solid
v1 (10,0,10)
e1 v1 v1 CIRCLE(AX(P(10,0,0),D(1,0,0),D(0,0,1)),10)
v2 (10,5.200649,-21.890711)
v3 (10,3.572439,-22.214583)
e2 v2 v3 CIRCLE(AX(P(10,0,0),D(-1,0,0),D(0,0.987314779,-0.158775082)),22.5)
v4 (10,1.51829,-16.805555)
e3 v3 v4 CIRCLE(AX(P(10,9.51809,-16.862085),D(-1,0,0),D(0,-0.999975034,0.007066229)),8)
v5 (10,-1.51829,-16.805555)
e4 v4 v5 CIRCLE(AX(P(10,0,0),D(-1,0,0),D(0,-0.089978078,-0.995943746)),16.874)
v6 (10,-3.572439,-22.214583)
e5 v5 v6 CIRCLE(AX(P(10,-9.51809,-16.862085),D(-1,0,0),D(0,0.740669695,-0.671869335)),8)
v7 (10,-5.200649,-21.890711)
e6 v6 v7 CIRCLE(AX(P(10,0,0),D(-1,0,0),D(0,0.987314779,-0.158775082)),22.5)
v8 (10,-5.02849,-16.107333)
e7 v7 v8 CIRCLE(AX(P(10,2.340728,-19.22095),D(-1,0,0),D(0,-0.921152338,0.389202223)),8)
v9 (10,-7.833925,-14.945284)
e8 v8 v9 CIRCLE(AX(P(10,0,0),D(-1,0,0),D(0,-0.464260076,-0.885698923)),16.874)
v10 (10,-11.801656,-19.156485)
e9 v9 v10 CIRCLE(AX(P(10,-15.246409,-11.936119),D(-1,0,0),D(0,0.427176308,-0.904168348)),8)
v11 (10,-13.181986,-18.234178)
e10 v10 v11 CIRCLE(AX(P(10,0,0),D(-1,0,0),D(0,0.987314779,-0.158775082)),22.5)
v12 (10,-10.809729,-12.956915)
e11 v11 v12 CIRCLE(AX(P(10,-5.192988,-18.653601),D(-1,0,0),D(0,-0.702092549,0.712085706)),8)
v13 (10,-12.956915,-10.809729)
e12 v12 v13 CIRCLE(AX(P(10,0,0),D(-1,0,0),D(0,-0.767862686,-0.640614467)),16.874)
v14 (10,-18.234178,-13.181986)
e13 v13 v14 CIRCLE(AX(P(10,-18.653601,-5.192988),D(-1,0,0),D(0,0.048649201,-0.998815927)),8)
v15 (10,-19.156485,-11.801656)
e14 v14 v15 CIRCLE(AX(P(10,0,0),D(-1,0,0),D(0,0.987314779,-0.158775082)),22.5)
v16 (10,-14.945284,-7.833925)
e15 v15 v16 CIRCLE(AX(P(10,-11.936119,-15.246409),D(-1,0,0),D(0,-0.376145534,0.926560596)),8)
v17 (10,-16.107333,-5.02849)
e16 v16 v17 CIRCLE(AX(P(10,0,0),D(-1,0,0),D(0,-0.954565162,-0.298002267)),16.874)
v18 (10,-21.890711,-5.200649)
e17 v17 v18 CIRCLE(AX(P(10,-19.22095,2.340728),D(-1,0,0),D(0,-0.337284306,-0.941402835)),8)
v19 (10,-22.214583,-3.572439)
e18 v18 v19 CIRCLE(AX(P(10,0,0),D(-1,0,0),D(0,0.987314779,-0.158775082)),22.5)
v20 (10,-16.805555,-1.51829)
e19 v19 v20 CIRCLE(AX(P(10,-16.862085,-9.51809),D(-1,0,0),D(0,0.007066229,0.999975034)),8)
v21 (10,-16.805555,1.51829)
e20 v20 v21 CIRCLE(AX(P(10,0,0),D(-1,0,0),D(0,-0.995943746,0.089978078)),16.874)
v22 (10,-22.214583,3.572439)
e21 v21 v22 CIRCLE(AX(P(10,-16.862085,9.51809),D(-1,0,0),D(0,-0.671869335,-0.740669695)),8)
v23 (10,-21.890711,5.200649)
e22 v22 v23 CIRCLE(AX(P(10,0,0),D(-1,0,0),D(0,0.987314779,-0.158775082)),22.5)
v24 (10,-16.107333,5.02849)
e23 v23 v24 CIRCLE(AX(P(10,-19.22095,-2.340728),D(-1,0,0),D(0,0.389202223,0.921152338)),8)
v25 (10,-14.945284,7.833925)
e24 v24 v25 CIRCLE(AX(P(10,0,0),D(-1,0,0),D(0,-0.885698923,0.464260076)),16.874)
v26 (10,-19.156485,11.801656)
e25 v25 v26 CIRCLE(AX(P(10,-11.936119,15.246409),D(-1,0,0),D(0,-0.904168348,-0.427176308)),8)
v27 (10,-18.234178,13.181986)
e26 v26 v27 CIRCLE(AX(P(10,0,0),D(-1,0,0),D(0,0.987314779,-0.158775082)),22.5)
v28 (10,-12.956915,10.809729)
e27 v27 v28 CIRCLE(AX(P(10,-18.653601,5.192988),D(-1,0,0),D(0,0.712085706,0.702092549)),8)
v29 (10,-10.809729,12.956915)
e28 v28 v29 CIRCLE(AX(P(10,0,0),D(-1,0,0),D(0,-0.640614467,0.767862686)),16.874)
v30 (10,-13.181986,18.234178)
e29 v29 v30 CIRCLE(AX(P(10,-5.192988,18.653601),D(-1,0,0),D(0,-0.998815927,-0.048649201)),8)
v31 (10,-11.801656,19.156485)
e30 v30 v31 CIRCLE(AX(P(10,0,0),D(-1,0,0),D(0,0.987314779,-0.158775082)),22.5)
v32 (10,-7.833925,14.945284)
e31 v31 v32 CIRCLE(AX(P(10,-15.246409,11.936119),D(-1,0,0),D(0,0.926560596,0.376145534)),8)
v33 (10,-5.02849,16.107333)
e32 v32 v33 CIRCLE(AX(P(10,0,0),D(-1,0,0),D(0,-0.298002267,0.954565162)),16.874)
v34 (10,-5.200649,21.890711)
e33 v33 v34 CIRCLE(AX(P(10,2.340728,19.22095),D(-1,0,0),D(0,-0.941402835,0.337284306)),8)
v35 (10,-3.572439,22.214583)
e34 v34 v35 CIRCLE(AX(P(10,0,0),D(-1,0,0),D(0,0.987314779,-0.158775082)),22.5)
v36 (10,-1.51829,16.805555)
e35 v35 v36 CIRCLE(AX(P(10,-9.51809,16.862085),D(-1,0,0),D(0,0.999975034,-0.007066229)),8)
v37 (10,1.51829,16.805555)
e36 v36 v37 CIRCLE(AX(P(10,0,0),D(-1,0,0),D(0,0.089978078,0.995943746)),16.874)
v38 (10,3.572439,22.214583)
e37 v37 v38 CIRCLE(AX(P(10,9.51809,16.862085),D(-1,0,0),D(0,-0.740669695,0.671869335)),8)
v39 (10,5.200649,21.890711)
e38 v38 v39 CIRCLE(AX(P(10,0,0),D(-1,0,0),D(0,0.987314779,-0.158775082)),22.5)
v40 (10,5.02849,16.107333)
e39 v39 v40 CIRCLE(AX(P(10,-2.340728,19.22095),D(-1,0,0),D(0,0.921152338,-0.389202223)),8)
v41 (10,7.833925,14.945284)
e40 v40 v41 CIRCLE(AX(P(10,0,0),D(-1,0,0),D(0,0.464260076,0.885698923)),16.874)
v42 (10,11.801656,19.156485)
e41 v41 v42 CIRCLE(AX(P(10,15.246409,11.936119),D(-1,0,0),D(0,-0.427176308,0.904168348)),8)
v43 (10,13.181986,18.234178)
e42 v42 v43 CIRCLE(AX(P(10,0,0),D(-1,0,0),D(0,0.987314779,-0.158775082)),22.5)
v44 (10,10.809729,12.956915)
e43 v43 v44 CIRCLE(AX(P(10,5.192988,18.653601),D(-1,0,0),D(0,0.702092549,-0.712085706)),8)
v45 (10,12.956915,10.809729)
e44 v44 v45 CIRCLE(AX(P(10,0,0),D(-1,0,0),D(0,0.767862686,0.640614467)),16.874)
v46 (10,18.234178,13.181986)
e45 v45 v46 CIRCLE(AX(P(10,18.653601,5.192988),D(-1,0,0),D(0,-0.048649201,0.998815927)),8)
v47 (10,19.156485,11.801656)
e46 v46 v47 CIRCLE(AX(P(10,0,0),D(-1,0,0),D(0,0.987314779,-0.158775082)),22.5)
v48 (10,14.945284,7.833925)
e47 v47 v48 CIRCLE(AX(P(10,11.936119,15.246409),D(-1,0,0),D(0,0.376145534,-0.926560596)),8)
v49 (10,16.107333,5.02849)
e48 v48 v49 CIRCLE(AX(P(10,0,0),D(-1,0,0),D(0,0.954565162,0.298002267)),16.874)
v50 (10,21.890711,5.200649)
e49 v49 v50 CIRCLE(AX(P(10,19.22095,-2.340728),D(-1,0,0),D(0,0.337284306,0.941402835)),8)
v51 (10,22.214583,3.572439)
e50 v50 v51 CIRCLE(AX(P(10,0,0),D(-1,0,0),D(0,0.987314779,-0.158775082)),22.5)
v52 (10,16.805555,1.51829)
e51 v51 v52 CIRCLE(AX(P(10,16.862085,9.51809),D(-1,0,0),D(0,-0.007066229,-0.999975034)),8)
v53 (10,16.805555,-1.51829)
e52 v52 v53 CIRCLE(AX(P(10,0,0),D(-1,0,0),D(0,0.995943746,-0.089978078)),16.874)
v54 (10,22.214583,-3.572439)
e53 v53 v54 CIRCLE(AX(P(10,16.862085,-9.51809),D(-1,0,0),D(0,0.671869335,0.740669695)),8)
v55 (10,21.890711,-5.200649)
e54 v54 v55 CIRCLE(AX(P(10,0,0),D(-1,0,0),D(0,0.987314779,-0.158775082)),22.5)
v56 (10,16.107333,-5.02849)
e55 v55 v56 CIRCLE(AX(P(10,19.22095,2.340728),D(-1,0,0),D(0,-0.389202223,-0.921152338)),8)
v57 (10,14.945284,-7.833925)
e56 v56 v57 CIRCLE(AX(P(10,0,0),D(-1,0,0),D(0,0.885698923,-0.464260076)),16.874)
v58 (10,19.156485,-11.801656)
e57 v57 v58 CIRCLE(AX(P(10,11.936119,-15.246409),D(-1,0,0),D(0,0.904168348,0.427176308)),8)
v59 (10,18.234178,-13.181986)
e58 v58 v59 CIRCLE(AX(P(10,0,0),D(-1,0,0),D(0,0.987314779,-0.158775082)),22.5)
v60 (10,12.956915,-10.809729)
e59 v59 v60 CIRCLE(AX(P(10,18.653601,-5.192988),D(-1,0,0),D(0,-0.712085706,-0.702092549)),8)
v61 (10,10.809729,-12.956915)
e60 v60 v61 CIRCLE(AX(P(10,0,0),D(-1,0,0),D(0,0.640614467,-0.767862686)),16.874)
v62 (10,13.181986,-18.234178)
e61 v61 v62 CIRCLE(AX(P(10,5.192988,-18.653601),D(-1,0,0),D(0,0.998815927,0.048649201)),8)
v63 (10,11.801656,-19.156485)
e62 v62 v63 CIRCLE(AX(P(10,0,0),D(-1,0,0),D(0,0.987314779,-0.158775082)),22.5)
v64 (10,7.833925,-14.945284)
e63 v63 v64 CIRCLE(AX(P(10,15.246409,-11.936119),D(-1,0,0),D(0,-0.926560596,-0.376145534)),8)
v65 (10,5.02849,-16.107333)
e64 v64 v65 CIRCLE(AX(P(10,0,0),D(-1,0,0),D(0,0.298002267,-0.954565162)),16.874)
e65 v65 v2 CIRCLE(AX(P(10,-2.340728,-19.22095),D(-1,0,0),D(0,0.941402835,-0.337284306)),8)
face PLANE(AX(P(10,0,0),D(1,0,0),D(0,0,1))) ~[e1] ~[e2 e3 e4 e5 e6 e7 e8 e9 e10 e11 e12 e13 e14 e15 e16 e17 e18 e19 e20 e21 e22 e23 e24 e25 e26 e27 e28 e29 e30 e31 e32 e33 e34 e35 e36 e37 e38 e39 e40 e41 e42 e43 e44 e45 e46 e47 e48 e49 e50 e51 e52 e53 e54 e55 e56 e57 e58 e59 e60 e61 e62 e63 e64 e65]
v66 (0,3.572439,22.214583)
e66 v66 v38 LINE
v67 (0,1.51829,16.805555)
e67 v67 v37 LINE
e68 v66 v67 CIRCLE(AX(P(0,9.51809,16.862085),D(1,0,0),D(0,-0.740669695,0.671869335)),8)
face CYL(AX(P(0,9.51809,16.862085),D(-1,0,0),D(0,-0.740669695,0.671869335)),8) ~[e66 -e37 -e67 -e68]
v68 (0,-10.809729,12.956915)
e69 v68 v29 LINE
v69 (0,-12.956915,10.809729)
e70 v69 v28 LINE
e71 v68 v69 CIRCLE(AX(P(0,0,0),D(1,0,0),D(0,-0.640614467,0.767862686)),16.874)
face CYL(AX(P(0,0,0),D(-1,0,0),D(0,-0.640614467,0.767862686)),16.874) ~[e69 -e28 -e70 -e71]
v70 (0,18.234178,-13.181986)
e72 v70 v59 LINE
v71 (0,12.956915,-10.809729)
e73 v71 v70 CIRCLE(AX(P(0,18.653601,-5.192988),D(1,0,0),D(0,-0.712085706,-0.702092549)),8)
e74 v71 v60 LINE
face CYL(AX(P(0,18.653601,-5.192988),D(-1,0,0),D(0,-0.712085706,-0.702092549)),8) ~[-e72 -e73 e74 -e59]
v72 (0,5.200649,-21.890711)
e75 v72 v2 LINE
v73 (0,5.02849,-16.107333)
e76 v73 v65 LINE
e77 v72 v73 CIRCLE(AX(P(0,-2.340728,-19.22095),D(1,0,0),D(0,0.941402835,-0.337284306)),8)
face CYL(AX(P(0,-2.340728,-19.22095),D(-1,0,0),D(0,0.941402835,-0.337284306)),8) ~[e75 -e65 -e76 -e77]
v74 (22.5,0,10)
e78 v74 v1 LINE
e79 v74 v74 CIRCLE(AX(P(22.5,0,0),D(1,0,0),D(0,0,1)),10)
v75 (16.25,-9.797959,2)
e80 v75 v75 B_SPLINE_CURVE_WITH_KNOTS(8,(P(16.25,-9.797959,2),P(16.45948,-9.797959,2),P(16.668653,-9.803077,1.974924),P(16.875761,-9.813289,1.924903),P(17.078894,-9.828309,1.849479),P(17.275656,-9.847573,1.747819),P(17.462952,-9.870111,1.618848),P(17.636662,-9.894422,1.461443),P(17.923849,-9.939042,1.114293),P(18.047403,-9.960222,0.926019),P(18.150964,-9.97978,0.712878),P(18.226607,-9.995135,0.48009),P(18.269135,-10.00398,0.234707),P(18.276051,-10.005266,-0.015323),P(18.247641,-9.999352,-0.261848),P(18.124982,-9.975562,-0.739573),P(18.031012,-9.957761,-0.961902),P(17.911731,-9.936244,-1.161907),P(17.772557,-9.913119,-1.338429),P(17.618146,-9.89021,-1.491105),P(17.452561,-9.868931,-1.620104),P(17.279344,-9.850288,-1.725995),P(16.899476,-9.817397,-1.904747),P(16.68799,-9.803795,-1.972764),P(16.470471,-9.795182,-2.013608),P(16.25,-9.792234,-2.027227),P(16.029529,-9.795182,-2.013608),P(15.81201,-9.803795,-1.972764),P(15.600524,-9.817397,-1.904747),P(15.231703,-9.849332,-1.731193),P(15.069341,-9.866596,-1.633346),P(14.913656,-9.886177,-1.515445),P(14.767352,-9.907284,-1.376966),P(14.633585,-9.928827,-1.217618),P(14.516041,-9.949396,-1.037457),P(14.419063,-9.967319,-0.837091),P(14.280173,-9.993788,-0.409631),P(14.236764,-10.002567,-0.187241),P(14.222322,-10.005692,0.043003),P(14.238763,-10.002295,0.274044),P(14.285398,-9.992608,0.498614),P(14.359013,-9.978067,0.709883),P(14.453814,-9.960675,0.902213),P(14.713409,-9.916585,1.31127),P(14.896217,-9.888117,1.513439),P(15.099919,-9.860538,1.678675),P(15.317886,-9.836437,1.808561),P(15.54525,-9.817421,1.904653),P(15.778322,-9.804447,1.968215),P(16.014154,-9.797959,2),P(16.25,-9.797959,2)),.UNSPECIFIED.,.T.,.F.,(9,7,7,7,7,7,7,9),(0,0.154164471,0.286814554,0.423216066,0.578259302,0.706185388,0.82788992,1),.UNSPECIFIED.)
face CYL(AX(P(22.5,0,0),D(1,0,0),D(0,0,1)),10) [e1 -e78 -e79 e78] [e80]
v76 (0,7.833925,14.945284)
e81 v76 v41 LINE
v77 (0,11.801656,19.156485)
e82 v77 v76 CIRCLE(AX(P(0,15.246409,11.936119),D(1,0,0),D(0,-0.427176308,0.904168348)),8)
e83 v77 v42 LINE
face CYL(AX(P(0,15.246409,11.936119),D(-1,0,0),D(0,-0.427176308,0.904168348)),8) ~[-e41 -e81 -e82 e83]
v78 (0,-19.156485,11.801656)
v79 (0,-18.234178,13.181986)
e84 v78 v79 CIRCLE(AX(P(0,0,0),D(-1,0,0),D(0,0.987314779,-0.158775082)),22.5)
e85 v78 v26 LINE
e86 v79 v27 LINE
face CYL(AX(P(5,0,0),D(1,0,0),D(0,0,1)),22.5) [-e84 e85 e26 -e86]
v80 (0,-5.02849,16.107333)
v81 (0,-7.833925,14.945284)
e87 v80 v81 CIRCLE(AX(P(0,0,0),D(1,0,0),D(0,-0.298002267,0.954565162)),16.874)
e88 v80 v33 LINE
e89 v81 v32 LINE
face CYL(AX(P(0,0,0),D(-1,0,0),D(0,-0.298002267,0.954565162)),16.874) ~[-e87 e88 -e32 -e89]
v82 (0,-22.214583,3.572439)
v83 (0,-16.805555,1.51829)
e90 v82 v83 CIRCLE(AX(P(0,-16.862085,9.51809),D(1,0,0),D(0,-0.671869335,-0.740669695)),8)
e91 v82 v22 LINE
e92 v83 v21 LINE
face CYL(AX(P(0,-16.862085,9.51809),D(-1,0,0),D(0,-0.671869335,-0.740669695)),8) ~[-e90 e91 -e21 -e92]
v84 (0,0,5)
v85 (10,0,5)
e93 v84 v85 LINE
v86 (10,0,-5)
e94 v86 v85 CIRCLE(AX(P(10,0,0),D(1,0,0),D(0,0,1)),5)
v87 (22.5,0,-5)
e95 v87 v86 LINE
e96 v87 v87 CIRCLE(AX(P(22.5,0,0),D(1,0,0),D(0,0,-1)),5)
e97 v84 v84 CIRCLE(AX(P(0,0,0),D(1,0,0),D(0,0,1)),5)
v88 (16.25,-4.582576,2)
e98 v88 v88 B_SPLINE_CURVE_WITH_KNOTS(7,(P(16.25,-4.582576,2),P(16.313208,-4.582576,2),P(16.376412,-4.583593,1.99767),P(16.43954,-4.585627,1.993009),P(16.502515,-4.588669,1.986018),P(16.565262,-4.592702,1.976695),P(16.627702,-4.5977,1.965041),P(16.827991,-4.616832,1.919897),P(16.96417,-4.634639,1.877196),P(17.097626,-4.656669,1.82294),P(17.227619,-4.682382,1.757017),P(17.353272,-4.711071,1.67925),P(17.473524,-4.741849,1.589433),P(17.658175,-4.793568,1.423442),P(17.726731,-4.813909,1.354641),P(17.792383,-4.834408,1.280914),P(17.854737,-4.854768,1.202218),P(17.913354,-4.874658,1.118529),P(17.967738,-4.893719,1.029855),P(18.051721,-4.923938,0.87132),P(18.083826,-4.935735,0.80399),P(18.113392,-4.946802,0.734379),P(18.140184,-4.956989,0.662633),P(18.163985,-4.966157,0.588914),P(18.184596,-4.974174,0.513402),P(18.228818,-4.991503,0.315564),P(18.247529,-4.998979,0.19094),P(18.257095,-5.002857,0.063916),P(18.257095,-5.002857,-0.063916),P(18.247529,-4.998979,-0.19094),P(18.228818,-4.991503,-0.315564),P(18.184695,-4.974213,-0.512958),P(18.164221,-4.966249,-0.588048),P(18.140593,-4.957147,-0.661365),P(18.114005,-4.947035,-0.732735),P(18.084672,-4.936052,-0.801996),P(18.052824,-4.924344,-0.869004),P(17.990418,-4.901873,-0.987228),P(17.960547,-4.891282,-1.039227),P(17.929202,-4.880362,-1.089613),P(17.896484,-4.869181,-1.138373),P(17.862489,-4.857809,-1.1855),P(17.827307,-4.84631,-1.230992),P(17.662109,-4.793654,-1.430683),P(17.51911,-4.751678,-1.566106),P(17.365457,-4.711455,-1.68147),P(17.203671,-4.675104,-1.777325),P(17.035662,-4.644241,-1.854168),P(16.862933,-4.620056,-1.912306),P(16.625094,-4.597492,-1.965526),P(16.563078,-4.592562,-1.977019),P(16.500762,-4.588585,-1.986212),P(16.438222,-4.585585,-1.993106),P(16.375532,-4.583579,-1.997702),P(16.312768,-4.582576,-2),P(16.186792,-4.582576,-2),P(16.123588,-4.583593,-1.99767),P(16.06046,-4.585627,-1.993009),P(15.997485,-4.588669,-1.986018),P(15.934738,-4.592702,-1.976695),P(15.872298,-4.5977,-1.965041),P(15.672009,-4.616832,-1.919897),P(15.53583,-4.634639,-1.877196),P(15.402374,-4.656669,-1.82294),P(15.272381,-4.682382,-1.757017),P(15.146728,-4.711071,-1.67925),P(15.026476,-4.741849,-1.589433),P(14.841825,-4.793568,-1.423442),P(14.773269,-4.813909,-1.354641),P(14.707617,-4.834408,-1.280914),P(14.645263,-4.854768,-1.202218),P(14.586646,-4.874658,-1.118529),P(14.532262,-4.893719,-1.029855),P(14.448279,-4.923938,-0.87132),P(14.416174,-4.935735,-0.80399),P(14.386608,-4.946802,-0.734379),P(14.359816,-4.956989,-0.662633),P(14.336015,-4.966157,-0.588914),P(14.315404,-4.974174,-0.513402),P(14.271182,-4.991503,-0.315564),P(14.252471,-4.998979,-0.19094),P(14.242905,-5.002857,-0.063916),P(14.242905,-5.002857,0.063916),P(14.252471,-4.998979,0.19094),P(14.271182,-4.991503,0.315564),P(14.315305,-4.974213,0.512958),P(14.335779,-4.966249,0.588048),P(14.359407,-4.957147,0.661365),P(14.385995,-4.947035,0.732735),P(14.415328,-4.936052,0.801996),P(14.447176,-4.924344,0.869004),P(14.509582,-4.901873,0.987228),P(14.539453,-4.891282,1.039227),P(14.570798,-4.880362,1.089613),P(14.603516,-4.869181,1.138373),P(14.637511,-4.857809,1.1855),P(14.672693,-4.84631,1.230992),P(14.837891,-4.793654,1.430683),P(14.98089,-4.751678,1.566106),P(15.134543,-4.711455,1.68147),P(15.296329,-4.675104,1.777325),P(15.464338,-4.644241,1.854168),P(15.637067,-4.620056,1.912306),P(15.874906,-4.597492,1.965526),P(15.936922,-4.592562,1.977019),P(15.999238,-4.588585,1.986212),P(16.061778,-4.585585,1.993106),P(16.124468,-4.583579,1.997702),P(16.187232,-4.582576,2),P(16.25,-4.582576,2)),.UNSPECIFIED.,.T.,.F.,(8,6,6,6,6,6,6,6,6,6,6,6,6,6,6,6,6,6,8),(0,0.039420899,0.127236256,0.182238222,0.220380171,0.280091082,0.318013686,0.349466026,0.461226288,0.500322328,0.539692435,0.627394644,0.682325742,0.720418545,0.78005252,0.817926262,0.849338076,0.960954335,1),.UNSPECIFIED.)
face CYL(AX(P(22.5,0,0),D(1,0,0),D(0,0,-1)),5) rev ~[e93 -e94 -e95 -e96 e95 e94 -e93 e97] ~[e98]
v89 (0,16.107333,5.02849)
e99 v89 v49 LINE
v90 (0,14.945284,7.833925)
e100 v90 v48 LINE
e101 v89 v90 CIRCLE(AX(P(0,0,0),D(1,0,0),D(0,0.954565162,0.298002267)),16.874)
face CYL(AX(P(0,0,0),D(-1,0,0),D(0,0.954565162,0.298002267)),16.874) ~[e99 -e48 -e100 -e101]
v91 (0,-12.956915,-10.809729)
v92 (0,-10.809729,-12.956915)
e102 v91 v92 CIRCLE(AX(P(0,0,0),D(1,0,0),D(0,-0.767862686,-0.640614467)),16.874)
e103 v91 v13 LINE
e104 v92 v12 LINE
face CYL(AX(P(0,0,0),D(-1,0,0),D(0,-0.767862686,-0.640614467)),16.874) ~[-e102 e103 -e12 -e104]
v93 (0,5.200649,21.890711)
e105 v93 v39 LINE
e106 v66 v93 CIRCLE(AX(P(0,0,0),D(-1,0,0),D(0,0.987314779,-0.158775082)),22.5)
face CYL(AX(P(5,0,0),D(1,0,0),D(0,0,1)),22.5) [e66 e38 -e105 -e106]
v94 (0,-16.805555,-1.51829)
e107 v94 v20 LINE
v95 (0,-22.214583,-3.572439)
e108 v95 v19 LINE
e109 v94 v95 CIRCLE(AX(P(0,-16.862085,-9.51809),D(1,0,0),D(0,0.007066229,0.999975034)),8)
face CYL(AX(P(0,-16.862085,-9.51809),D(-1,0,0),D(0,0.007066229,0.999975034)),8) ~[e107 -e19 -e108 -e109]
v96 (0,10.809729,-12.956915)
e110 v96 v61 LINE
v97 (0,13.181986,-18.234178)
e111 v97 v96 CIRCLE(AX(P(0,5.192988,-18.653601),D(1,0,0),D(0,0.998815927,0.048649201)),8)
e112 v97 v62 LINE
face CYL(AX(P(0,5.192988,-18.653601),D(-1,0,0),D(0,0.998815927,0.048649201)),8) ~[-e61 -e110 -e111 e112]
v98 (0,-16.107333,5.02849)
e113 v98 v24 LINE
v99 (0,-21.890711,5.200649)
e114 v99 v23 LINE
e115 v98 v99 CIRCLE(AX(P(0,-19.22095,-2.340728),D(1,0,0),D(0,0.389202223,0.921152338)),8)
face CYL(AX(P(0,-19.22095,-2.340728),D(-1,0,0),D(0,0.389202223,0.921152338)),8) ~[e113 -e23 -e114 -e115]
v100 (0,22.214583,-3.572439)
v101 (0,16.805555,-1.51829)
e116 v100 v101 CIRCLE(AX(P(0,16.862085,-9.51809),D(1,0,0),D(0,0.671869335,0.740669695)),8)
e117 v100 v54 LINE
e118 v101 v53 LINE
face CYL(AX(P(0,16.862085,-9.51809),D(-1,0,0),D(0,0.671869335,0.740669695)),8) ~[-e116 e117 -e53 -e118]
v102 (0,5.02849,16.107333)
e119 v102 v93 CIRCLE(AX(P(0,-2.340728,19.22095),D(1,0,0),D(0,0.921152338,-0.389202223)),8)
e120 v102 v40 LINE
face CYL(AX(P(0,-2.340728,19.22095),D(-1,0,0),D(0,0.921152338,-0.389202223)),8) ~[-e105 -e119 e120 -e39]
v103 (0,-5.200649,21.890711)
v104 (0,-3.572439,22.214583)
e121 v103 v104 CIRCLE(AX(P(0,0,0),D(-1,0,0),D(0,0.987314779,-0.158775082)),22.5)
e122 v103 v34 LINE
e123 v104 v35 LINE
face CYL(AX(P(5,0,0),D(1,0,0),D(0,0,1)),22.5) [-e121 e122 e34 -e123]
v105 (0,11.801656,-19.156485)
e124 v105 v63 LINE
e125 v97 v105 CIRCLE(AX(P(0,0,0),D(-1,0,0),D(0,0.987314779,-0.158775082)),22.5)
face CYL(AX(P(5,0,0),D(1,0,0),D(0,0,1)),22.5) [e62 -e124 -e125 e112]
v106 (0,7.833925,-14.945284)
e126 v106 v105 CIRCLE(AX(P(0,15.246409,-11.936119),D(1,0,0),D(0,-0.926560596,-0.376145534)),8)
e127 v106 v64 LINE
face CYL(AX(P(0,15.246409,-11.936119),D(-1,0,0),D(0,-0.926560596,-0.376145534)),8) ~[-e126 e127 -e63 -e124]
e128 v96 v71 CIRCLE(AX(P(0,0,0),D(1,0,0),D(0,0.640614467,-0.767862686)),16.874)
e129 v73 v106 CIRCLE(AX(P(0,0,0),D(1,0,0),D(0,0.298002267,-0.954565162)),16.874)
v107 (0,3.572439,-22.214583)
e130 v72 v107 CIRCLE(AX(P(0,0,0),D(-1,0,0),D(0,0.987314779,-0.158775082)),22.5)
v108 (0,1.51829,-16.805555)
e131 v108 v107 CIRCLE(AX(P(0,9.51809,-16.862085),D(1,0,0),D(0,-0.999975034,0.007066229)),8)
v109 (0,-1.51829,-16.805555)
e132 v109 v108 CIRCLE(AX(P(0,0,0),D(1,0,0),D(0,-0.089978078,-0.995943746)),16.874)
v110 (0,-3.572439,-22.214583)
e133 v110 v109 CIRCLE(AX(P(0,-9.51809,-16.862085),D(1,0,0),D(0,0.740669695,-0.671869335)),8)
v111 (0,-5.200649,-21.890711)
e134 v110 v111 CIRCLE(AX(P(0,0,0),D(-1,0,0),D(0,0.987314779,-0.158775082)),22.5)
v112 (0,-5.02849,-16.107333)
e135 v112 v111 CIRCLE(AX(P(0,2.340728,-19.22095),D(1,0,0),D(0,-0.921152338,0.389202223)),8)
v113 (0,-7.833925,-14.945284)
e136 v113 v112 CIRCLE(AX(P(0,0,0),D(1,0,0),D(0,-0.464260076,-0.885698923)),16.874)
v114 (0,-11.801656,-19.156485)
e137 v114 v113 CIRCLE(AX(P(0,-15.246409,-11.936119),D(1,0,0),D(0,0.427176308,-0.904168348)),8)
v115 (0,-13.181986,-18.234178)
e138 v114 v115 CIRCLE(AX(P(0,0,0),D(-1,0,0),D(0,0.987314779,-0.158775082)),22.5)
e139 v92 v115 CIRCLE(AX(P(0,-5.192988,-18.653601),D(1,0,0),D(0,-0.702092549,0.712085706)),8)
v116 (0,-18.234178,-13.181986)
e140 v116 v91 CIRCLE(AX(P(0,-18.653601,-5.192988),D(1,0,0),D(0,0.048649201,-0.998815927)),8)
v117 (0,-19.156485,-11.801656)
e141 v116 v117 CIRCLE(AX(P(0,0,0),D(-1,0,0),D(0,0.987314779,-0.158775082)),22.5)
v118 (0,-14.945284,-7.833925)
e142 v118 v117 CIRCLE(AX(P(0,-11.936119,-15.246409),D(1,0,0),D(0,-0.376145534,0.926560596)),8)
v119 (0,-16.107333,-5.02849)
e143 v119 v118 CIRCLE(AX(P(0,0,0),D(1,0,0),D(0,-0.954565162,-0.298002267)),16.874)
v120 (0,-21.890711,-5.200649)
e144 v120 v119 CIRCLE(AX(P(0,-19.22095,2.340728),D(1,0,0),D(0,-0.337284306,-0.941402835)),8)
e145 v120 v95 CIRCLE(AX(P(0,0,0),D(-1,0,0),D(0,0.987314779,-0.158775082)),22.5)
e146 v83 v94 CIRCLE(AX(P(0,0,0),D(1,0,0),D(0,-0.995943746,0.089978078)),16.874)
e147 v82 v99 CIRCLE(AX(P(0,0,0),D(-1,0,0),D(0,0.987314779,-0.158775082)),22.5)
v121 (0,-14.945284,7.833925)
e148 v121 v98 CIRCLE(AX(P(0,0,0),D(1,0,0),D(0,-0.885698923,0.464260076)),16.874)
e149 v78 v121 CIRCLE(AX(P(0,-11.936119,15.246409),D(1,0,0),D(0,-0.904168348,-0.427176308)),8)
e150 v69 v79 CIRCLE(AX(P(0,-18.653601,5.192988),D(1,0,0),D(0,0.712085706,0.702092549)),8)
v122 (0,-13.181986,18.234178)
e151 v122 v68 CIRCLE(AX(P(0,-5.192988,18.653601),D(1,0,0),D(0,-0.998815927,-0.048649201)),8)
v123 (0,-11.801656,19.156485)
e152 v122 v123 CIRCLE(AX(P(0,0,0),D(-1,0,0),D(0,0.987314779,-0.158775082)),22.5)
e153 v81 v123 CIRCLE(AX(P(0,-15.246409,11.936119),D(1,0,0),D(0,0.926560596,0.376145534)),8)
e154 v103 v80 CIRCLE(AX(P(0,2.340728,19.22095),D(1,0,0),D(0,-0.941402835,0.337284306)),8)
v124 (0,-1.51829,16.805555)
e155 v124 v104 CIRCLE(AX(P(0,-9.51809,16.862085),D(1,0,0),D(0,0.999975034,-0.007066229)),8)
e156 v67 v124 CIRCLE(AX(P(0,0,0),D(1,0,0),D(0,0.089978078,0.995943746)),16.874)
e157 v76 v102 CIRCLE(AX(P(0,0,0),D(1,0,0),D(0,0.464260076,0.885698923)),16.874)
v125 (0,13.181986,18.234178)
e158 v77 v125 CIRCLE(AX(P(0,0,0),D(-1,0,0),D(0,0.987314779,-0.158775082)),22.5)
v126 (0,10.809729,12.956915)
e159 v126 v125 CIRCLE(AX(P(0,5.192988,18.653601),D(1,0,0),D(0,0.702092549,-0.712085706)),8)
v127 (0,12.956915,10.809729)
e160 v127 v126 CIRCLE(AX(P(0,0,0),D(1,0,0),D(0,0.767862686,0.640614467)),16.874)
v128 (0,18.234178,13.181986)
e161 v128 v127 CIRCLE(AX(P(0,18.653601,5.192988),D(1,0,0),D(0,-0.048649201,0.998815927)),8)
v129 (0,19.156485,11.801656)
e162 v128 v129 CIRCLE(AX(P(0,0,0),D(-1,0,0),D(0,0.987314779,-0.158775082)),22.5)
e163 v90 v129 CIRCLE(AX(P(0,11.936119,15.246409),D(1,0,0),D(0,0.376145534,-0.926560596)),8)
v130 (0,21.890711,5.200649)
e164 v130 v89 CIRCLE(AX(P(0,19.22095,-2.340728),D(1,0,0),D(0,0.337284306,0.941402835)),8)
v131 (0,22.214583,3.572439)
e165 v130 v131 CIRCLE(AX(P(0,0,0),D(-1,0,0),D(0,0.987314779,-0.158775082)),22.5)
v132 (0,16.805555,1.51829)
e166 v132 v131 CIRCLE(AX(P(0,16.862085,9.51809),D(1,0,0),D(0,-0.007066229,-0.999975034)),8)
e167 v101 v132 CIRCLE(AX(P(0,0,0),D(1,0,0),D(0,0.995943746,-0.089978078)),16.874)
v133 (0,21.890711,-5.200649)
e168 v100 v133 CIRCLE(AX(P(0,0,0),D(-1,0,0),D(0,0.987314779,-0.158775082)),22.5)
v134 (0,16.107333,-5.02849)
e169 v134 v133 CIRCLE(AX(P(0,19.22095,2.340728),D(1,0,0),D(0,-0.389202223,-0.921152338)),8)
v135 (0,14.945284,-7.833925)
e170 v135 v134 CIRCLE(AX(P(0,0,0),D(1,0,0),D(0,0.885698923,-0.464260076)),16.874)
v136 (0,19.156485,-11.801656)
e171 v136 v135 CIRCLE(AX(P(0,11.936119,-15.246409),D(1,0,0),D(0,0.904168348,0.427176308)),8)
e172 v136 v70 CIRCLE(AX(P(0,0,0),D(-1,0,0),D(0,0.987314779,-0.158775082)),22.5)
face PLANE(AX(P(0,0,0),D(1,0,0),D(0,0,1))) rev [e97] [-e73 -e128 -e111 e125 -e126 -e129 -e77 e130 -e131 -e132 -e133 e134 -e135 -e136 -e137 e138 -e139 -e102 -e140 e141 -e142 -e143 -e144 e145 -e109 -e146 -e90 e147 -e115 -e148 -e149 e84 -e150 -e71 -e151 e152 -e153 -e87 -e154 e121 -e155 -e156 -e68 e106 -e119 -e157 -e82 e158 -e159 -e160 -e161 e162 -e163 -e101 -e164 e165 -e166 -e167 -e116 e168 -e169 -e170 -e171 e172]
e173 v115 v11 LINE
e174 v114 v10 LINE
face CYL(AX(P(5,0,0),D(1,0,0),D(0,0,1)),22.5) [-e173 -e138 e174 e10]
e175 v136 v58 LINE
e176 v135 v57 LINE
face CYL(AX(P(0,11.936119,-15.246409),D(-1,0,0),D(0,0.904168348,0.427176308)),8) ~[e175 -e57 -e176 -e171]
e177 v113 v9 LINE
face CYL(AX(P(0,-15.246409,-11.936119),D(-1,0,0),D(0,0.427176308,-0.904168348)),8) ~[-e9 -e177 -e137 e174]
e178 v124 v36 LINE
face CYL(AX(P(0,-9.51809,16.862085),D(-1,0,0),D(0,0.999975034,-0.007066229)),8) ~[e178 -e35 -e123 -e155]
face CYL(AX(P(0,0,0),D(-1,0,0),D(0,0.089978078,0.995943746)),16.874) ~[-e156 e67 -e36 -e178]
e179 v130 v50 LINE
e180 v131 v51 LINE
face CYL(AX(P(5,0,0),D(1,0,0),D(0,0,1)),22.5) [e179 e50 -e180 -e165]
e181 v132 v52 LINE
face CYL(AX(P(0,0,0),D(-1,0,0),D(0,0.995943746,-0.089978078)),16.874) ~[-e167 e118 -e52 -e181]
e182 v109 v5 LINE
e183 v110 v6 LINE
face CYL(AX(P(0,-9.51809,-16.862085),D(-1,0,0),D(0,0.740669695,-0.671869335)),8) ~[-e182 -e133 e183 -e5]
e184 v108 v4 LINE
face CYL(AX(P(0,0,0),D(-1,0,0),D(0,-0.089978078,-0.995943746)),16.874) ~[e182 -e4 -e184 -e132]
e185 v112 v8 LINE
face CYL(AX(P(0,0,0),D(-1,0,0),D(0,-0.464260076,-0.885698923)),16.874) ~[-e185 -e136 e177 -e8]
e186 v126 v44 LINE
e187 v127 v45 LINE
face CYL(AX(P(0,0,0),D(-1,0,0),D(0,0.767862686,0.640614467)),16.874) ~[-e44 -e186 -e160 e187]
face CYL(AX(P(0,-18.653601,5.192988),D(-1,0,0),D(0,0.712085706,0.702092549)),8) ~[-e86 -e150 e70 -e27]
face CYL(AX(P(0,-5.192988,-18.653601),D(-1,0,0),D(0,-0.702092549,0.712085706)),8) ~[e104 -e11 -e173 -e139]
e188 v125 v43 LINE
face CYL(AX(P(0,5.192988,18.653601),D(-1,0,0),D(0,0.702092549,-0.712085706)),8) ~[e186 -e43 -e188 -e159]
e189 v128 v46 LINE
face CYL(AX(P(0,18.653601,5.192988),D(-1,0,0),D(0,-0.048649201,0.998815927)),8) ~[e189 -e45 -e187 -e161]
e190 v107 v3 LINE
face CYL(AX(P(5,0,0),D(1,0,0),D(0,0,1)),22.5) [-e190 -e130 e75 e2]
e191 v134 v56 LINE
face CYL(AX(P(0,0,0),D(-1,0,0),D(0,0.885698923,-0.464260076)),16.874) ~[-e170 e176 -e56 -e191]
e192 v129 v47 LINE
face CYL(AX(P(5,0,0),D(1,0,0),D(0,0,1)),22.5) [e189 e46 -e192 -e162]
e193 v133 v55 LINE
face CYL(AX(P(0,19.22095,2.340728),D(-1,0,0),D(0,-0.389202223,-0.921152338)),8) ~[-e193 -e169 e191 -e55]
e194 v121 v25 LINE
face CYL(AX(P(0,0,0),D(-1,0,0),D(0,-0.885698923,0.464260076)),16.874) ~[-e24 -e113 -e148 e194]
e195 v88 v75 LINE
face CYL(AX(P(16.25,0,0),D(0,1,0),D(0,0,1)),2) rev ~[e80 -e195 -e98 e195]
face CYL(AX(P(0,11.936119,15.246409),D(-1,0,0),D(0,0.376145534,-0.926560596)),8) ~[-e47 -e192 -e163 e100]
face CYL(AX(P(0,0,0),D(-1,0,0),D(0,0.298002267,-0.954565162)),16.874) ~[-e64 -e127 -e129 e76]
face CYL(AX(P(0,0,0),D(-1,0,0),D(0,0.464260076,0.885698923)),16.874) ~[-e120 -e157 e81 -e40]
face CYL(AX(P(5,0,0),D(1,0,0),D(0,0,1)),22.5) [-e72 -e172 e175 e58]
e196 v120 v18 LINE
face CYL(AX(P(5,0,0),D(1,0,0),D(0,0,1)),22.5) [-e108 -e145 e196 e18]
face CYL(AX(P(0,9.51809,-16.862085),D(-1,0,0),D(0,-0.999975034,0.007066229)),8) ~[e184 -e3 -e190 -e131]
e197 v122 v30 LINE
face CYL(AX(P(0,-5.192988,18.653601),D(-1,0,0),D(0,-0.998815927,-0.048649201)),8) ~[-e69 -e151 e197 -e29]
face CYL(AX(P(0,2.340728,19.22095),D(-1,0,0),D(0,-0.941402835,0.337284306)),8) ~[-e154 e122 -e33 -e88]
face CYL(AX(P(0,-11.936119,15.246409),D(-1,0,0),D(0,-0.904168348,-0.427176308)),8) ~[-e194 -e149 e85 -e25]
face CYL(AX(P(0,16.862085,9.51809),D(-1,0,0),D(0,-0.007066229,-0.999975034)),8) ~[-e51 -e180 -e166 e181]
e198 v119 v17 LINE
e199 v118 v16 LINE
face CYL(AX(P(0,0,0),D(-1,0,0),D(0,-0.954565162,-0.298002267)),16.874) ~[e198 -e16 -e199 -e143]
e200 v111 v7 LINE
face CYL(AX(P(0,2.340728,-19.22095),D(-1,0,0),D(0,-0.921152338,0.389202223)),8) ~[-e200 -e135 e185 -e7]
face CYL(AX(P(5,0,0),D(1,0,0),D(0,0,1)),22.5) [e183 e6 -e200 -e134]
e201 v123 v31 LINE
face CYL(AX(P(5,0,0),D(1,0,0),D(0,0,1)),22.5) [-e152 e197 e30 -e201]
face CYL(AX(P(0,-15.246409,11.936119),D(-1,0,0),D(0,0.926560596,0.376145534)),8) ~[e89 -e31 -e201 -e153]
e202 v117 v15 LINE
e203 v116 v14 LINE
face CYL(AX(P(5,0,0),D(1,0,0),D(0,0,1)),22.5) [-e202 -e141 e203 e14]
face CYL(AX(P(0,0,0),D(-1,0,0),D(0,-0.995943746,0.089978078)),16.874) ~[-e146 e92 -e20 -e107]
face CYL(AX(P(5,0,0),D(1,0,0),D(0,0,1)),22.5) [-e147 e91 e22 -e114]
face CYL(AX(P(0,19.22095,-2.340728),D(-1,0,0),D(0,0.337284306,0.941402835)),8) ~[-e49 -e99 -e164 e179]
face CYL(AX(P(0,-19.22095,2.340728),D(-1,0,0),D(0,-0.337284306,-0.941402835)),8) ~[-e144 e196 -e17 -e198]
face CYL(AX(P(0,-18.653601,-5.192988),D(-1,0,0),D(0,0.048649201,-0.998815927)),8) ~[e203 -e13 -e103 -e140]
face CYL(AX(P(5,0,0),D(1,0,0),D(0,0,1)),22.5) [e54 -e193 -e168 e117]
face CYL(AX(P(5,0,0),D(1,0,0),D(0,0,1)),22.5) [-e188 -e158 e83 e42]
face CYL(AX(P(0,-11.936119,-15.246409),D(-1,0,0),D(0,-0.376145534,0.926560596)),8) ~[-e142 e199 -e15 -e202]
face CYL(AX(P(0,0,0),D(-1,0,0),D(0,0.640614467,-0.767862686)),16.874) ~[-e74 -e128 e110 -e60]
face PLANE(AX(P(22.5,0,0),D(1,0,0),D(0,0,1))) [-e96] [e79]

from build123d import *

# Parameters (mm, degrees)
BASPROSKE_W             = 10
BASPROSKE_H             = 22.5
TOOTHCUT_DEPTH          = 34.35416016
TEETHCUTS_COUNT         = 16
TEETHCUTS_ANGLE         = 337.5
BORSKE_R                = 5
BORE_DEPTH              = 50.0000508
BOSS_EXTRU_1_START      = 12.5
ESQUISSE1_R             = 10
ESQUISSE1_R_2           = 5
BOSS_EXTRU_1_DEPTH      = 12.5
ESQUISSE2_R             = 2
ENL_V_MAT_EXTRU_1_DEPTH = 12.5


with BuildPart() as part:
    # BasProSke → Base-Revolve (revolve)
    with BuildSketch(Plane(origin=(0, 0, 0), x_dir=(1, 0, 0), z_dir=(0, 1, 0)), mode=Mode.PRIVATE) as base_revolve_sk:
        with Locations((5, 11.25)):
            Rectangle(BASPROSKE_W, BASPROSKE_H)
    revolve(base_revolve_sk.sketch.rotate(Axis((-10, 0, 0), (1, 0, 0)), 180), axis=Axis((-10, 0, 0), (1, 0, 0)))

    # TooCutSke → ToothCut (cut, through all)
    with BuildSketch(Plane(origin=(0, 0, 0), x_dir=(0, 0, -1), z_dir=(1, 0, 0))):
        with BuildLine():
            ThreePointArc((1.518290096, 16.805554772), (0, 16.874), (-1.518290096, 16.805554772))
            ThreePointArc((-1.518290096, 16.805554772), (-2.044619878, 19.716421455), (-3.592732808, 22.237039284))
            ThreePointArc((-3.592732808, 22.237039284), (0, 22.5254), (3.592732808, 22.237039284))
            ThreePointArc((3.592732808, 22.237039284), (2.044619878, 19.716421455), (1.518290096, 16.805554772))
        make_face()
    toothcut = extrude(amount=TOOTHCUT_DEPTH, mode=Mode.SUBTRACT)

    # TeethCuts: ToothCut ×16 about axis
    teethcuts_axis = Axis((-10, 0, 0), (1, 0, 0))
    for i in range(1, TEETHCUTS_COUNT):
        add(toothcut.rotate(teethcuts_axis, i * TEETHCUTS_ANGLE / (TEETHCUTS_COUNT - 1)), mode=Mode.SUBTRACT)

    # BorSke → Bore (cut, symmetric)
    with BuildSketch(Plane(origin=(0, 0, 0), x_dir=(0, 0, -1), z_dir=(1, 0, 0))):
        with Locations(Location((0, 0, 0), (0, 0, 180))):
            Circle(BORSKE_R)
    extrude(amount=BORE_DEPTH, both=True, mode=Mode.SUBTRACT)

    # Esquisse1 → Boss.-Extru.1 (add)
    with BuildSketch(Plane(origin=(10, 0, 0), x_dir=(0, 0, -1), z_dir=(1, 0, 0)).offset(BOSS_EXTRU_1_START)):
        with Locations(Location((0, 0, 0), (0, 0, 180))):
            Circle(ESQUISSE1_R)
        Circle(ESQUISSE1_R_2, mode=Mode.SUBTRACT)
    extrude(amount=-BOSS_EXTRU_1_DEPTH)

    # Esquisse2 → Enlèv. mat.-Extru.1 (cut)
    with BuildSketch(Plane(origin=(0, 0, 0), x_dir=(1, 0, 0), z_dir=(0, 1, 0))):
        with Locations(Location((16.25, 0, 0), (0, 0, 270))):
            Circle(ESQUISSE2_R)
    extrude(amount=-ENL_V_MAT_EXTRU_1_DEPTH, mode=Mode.SUBTRACT)


solid = part.part
